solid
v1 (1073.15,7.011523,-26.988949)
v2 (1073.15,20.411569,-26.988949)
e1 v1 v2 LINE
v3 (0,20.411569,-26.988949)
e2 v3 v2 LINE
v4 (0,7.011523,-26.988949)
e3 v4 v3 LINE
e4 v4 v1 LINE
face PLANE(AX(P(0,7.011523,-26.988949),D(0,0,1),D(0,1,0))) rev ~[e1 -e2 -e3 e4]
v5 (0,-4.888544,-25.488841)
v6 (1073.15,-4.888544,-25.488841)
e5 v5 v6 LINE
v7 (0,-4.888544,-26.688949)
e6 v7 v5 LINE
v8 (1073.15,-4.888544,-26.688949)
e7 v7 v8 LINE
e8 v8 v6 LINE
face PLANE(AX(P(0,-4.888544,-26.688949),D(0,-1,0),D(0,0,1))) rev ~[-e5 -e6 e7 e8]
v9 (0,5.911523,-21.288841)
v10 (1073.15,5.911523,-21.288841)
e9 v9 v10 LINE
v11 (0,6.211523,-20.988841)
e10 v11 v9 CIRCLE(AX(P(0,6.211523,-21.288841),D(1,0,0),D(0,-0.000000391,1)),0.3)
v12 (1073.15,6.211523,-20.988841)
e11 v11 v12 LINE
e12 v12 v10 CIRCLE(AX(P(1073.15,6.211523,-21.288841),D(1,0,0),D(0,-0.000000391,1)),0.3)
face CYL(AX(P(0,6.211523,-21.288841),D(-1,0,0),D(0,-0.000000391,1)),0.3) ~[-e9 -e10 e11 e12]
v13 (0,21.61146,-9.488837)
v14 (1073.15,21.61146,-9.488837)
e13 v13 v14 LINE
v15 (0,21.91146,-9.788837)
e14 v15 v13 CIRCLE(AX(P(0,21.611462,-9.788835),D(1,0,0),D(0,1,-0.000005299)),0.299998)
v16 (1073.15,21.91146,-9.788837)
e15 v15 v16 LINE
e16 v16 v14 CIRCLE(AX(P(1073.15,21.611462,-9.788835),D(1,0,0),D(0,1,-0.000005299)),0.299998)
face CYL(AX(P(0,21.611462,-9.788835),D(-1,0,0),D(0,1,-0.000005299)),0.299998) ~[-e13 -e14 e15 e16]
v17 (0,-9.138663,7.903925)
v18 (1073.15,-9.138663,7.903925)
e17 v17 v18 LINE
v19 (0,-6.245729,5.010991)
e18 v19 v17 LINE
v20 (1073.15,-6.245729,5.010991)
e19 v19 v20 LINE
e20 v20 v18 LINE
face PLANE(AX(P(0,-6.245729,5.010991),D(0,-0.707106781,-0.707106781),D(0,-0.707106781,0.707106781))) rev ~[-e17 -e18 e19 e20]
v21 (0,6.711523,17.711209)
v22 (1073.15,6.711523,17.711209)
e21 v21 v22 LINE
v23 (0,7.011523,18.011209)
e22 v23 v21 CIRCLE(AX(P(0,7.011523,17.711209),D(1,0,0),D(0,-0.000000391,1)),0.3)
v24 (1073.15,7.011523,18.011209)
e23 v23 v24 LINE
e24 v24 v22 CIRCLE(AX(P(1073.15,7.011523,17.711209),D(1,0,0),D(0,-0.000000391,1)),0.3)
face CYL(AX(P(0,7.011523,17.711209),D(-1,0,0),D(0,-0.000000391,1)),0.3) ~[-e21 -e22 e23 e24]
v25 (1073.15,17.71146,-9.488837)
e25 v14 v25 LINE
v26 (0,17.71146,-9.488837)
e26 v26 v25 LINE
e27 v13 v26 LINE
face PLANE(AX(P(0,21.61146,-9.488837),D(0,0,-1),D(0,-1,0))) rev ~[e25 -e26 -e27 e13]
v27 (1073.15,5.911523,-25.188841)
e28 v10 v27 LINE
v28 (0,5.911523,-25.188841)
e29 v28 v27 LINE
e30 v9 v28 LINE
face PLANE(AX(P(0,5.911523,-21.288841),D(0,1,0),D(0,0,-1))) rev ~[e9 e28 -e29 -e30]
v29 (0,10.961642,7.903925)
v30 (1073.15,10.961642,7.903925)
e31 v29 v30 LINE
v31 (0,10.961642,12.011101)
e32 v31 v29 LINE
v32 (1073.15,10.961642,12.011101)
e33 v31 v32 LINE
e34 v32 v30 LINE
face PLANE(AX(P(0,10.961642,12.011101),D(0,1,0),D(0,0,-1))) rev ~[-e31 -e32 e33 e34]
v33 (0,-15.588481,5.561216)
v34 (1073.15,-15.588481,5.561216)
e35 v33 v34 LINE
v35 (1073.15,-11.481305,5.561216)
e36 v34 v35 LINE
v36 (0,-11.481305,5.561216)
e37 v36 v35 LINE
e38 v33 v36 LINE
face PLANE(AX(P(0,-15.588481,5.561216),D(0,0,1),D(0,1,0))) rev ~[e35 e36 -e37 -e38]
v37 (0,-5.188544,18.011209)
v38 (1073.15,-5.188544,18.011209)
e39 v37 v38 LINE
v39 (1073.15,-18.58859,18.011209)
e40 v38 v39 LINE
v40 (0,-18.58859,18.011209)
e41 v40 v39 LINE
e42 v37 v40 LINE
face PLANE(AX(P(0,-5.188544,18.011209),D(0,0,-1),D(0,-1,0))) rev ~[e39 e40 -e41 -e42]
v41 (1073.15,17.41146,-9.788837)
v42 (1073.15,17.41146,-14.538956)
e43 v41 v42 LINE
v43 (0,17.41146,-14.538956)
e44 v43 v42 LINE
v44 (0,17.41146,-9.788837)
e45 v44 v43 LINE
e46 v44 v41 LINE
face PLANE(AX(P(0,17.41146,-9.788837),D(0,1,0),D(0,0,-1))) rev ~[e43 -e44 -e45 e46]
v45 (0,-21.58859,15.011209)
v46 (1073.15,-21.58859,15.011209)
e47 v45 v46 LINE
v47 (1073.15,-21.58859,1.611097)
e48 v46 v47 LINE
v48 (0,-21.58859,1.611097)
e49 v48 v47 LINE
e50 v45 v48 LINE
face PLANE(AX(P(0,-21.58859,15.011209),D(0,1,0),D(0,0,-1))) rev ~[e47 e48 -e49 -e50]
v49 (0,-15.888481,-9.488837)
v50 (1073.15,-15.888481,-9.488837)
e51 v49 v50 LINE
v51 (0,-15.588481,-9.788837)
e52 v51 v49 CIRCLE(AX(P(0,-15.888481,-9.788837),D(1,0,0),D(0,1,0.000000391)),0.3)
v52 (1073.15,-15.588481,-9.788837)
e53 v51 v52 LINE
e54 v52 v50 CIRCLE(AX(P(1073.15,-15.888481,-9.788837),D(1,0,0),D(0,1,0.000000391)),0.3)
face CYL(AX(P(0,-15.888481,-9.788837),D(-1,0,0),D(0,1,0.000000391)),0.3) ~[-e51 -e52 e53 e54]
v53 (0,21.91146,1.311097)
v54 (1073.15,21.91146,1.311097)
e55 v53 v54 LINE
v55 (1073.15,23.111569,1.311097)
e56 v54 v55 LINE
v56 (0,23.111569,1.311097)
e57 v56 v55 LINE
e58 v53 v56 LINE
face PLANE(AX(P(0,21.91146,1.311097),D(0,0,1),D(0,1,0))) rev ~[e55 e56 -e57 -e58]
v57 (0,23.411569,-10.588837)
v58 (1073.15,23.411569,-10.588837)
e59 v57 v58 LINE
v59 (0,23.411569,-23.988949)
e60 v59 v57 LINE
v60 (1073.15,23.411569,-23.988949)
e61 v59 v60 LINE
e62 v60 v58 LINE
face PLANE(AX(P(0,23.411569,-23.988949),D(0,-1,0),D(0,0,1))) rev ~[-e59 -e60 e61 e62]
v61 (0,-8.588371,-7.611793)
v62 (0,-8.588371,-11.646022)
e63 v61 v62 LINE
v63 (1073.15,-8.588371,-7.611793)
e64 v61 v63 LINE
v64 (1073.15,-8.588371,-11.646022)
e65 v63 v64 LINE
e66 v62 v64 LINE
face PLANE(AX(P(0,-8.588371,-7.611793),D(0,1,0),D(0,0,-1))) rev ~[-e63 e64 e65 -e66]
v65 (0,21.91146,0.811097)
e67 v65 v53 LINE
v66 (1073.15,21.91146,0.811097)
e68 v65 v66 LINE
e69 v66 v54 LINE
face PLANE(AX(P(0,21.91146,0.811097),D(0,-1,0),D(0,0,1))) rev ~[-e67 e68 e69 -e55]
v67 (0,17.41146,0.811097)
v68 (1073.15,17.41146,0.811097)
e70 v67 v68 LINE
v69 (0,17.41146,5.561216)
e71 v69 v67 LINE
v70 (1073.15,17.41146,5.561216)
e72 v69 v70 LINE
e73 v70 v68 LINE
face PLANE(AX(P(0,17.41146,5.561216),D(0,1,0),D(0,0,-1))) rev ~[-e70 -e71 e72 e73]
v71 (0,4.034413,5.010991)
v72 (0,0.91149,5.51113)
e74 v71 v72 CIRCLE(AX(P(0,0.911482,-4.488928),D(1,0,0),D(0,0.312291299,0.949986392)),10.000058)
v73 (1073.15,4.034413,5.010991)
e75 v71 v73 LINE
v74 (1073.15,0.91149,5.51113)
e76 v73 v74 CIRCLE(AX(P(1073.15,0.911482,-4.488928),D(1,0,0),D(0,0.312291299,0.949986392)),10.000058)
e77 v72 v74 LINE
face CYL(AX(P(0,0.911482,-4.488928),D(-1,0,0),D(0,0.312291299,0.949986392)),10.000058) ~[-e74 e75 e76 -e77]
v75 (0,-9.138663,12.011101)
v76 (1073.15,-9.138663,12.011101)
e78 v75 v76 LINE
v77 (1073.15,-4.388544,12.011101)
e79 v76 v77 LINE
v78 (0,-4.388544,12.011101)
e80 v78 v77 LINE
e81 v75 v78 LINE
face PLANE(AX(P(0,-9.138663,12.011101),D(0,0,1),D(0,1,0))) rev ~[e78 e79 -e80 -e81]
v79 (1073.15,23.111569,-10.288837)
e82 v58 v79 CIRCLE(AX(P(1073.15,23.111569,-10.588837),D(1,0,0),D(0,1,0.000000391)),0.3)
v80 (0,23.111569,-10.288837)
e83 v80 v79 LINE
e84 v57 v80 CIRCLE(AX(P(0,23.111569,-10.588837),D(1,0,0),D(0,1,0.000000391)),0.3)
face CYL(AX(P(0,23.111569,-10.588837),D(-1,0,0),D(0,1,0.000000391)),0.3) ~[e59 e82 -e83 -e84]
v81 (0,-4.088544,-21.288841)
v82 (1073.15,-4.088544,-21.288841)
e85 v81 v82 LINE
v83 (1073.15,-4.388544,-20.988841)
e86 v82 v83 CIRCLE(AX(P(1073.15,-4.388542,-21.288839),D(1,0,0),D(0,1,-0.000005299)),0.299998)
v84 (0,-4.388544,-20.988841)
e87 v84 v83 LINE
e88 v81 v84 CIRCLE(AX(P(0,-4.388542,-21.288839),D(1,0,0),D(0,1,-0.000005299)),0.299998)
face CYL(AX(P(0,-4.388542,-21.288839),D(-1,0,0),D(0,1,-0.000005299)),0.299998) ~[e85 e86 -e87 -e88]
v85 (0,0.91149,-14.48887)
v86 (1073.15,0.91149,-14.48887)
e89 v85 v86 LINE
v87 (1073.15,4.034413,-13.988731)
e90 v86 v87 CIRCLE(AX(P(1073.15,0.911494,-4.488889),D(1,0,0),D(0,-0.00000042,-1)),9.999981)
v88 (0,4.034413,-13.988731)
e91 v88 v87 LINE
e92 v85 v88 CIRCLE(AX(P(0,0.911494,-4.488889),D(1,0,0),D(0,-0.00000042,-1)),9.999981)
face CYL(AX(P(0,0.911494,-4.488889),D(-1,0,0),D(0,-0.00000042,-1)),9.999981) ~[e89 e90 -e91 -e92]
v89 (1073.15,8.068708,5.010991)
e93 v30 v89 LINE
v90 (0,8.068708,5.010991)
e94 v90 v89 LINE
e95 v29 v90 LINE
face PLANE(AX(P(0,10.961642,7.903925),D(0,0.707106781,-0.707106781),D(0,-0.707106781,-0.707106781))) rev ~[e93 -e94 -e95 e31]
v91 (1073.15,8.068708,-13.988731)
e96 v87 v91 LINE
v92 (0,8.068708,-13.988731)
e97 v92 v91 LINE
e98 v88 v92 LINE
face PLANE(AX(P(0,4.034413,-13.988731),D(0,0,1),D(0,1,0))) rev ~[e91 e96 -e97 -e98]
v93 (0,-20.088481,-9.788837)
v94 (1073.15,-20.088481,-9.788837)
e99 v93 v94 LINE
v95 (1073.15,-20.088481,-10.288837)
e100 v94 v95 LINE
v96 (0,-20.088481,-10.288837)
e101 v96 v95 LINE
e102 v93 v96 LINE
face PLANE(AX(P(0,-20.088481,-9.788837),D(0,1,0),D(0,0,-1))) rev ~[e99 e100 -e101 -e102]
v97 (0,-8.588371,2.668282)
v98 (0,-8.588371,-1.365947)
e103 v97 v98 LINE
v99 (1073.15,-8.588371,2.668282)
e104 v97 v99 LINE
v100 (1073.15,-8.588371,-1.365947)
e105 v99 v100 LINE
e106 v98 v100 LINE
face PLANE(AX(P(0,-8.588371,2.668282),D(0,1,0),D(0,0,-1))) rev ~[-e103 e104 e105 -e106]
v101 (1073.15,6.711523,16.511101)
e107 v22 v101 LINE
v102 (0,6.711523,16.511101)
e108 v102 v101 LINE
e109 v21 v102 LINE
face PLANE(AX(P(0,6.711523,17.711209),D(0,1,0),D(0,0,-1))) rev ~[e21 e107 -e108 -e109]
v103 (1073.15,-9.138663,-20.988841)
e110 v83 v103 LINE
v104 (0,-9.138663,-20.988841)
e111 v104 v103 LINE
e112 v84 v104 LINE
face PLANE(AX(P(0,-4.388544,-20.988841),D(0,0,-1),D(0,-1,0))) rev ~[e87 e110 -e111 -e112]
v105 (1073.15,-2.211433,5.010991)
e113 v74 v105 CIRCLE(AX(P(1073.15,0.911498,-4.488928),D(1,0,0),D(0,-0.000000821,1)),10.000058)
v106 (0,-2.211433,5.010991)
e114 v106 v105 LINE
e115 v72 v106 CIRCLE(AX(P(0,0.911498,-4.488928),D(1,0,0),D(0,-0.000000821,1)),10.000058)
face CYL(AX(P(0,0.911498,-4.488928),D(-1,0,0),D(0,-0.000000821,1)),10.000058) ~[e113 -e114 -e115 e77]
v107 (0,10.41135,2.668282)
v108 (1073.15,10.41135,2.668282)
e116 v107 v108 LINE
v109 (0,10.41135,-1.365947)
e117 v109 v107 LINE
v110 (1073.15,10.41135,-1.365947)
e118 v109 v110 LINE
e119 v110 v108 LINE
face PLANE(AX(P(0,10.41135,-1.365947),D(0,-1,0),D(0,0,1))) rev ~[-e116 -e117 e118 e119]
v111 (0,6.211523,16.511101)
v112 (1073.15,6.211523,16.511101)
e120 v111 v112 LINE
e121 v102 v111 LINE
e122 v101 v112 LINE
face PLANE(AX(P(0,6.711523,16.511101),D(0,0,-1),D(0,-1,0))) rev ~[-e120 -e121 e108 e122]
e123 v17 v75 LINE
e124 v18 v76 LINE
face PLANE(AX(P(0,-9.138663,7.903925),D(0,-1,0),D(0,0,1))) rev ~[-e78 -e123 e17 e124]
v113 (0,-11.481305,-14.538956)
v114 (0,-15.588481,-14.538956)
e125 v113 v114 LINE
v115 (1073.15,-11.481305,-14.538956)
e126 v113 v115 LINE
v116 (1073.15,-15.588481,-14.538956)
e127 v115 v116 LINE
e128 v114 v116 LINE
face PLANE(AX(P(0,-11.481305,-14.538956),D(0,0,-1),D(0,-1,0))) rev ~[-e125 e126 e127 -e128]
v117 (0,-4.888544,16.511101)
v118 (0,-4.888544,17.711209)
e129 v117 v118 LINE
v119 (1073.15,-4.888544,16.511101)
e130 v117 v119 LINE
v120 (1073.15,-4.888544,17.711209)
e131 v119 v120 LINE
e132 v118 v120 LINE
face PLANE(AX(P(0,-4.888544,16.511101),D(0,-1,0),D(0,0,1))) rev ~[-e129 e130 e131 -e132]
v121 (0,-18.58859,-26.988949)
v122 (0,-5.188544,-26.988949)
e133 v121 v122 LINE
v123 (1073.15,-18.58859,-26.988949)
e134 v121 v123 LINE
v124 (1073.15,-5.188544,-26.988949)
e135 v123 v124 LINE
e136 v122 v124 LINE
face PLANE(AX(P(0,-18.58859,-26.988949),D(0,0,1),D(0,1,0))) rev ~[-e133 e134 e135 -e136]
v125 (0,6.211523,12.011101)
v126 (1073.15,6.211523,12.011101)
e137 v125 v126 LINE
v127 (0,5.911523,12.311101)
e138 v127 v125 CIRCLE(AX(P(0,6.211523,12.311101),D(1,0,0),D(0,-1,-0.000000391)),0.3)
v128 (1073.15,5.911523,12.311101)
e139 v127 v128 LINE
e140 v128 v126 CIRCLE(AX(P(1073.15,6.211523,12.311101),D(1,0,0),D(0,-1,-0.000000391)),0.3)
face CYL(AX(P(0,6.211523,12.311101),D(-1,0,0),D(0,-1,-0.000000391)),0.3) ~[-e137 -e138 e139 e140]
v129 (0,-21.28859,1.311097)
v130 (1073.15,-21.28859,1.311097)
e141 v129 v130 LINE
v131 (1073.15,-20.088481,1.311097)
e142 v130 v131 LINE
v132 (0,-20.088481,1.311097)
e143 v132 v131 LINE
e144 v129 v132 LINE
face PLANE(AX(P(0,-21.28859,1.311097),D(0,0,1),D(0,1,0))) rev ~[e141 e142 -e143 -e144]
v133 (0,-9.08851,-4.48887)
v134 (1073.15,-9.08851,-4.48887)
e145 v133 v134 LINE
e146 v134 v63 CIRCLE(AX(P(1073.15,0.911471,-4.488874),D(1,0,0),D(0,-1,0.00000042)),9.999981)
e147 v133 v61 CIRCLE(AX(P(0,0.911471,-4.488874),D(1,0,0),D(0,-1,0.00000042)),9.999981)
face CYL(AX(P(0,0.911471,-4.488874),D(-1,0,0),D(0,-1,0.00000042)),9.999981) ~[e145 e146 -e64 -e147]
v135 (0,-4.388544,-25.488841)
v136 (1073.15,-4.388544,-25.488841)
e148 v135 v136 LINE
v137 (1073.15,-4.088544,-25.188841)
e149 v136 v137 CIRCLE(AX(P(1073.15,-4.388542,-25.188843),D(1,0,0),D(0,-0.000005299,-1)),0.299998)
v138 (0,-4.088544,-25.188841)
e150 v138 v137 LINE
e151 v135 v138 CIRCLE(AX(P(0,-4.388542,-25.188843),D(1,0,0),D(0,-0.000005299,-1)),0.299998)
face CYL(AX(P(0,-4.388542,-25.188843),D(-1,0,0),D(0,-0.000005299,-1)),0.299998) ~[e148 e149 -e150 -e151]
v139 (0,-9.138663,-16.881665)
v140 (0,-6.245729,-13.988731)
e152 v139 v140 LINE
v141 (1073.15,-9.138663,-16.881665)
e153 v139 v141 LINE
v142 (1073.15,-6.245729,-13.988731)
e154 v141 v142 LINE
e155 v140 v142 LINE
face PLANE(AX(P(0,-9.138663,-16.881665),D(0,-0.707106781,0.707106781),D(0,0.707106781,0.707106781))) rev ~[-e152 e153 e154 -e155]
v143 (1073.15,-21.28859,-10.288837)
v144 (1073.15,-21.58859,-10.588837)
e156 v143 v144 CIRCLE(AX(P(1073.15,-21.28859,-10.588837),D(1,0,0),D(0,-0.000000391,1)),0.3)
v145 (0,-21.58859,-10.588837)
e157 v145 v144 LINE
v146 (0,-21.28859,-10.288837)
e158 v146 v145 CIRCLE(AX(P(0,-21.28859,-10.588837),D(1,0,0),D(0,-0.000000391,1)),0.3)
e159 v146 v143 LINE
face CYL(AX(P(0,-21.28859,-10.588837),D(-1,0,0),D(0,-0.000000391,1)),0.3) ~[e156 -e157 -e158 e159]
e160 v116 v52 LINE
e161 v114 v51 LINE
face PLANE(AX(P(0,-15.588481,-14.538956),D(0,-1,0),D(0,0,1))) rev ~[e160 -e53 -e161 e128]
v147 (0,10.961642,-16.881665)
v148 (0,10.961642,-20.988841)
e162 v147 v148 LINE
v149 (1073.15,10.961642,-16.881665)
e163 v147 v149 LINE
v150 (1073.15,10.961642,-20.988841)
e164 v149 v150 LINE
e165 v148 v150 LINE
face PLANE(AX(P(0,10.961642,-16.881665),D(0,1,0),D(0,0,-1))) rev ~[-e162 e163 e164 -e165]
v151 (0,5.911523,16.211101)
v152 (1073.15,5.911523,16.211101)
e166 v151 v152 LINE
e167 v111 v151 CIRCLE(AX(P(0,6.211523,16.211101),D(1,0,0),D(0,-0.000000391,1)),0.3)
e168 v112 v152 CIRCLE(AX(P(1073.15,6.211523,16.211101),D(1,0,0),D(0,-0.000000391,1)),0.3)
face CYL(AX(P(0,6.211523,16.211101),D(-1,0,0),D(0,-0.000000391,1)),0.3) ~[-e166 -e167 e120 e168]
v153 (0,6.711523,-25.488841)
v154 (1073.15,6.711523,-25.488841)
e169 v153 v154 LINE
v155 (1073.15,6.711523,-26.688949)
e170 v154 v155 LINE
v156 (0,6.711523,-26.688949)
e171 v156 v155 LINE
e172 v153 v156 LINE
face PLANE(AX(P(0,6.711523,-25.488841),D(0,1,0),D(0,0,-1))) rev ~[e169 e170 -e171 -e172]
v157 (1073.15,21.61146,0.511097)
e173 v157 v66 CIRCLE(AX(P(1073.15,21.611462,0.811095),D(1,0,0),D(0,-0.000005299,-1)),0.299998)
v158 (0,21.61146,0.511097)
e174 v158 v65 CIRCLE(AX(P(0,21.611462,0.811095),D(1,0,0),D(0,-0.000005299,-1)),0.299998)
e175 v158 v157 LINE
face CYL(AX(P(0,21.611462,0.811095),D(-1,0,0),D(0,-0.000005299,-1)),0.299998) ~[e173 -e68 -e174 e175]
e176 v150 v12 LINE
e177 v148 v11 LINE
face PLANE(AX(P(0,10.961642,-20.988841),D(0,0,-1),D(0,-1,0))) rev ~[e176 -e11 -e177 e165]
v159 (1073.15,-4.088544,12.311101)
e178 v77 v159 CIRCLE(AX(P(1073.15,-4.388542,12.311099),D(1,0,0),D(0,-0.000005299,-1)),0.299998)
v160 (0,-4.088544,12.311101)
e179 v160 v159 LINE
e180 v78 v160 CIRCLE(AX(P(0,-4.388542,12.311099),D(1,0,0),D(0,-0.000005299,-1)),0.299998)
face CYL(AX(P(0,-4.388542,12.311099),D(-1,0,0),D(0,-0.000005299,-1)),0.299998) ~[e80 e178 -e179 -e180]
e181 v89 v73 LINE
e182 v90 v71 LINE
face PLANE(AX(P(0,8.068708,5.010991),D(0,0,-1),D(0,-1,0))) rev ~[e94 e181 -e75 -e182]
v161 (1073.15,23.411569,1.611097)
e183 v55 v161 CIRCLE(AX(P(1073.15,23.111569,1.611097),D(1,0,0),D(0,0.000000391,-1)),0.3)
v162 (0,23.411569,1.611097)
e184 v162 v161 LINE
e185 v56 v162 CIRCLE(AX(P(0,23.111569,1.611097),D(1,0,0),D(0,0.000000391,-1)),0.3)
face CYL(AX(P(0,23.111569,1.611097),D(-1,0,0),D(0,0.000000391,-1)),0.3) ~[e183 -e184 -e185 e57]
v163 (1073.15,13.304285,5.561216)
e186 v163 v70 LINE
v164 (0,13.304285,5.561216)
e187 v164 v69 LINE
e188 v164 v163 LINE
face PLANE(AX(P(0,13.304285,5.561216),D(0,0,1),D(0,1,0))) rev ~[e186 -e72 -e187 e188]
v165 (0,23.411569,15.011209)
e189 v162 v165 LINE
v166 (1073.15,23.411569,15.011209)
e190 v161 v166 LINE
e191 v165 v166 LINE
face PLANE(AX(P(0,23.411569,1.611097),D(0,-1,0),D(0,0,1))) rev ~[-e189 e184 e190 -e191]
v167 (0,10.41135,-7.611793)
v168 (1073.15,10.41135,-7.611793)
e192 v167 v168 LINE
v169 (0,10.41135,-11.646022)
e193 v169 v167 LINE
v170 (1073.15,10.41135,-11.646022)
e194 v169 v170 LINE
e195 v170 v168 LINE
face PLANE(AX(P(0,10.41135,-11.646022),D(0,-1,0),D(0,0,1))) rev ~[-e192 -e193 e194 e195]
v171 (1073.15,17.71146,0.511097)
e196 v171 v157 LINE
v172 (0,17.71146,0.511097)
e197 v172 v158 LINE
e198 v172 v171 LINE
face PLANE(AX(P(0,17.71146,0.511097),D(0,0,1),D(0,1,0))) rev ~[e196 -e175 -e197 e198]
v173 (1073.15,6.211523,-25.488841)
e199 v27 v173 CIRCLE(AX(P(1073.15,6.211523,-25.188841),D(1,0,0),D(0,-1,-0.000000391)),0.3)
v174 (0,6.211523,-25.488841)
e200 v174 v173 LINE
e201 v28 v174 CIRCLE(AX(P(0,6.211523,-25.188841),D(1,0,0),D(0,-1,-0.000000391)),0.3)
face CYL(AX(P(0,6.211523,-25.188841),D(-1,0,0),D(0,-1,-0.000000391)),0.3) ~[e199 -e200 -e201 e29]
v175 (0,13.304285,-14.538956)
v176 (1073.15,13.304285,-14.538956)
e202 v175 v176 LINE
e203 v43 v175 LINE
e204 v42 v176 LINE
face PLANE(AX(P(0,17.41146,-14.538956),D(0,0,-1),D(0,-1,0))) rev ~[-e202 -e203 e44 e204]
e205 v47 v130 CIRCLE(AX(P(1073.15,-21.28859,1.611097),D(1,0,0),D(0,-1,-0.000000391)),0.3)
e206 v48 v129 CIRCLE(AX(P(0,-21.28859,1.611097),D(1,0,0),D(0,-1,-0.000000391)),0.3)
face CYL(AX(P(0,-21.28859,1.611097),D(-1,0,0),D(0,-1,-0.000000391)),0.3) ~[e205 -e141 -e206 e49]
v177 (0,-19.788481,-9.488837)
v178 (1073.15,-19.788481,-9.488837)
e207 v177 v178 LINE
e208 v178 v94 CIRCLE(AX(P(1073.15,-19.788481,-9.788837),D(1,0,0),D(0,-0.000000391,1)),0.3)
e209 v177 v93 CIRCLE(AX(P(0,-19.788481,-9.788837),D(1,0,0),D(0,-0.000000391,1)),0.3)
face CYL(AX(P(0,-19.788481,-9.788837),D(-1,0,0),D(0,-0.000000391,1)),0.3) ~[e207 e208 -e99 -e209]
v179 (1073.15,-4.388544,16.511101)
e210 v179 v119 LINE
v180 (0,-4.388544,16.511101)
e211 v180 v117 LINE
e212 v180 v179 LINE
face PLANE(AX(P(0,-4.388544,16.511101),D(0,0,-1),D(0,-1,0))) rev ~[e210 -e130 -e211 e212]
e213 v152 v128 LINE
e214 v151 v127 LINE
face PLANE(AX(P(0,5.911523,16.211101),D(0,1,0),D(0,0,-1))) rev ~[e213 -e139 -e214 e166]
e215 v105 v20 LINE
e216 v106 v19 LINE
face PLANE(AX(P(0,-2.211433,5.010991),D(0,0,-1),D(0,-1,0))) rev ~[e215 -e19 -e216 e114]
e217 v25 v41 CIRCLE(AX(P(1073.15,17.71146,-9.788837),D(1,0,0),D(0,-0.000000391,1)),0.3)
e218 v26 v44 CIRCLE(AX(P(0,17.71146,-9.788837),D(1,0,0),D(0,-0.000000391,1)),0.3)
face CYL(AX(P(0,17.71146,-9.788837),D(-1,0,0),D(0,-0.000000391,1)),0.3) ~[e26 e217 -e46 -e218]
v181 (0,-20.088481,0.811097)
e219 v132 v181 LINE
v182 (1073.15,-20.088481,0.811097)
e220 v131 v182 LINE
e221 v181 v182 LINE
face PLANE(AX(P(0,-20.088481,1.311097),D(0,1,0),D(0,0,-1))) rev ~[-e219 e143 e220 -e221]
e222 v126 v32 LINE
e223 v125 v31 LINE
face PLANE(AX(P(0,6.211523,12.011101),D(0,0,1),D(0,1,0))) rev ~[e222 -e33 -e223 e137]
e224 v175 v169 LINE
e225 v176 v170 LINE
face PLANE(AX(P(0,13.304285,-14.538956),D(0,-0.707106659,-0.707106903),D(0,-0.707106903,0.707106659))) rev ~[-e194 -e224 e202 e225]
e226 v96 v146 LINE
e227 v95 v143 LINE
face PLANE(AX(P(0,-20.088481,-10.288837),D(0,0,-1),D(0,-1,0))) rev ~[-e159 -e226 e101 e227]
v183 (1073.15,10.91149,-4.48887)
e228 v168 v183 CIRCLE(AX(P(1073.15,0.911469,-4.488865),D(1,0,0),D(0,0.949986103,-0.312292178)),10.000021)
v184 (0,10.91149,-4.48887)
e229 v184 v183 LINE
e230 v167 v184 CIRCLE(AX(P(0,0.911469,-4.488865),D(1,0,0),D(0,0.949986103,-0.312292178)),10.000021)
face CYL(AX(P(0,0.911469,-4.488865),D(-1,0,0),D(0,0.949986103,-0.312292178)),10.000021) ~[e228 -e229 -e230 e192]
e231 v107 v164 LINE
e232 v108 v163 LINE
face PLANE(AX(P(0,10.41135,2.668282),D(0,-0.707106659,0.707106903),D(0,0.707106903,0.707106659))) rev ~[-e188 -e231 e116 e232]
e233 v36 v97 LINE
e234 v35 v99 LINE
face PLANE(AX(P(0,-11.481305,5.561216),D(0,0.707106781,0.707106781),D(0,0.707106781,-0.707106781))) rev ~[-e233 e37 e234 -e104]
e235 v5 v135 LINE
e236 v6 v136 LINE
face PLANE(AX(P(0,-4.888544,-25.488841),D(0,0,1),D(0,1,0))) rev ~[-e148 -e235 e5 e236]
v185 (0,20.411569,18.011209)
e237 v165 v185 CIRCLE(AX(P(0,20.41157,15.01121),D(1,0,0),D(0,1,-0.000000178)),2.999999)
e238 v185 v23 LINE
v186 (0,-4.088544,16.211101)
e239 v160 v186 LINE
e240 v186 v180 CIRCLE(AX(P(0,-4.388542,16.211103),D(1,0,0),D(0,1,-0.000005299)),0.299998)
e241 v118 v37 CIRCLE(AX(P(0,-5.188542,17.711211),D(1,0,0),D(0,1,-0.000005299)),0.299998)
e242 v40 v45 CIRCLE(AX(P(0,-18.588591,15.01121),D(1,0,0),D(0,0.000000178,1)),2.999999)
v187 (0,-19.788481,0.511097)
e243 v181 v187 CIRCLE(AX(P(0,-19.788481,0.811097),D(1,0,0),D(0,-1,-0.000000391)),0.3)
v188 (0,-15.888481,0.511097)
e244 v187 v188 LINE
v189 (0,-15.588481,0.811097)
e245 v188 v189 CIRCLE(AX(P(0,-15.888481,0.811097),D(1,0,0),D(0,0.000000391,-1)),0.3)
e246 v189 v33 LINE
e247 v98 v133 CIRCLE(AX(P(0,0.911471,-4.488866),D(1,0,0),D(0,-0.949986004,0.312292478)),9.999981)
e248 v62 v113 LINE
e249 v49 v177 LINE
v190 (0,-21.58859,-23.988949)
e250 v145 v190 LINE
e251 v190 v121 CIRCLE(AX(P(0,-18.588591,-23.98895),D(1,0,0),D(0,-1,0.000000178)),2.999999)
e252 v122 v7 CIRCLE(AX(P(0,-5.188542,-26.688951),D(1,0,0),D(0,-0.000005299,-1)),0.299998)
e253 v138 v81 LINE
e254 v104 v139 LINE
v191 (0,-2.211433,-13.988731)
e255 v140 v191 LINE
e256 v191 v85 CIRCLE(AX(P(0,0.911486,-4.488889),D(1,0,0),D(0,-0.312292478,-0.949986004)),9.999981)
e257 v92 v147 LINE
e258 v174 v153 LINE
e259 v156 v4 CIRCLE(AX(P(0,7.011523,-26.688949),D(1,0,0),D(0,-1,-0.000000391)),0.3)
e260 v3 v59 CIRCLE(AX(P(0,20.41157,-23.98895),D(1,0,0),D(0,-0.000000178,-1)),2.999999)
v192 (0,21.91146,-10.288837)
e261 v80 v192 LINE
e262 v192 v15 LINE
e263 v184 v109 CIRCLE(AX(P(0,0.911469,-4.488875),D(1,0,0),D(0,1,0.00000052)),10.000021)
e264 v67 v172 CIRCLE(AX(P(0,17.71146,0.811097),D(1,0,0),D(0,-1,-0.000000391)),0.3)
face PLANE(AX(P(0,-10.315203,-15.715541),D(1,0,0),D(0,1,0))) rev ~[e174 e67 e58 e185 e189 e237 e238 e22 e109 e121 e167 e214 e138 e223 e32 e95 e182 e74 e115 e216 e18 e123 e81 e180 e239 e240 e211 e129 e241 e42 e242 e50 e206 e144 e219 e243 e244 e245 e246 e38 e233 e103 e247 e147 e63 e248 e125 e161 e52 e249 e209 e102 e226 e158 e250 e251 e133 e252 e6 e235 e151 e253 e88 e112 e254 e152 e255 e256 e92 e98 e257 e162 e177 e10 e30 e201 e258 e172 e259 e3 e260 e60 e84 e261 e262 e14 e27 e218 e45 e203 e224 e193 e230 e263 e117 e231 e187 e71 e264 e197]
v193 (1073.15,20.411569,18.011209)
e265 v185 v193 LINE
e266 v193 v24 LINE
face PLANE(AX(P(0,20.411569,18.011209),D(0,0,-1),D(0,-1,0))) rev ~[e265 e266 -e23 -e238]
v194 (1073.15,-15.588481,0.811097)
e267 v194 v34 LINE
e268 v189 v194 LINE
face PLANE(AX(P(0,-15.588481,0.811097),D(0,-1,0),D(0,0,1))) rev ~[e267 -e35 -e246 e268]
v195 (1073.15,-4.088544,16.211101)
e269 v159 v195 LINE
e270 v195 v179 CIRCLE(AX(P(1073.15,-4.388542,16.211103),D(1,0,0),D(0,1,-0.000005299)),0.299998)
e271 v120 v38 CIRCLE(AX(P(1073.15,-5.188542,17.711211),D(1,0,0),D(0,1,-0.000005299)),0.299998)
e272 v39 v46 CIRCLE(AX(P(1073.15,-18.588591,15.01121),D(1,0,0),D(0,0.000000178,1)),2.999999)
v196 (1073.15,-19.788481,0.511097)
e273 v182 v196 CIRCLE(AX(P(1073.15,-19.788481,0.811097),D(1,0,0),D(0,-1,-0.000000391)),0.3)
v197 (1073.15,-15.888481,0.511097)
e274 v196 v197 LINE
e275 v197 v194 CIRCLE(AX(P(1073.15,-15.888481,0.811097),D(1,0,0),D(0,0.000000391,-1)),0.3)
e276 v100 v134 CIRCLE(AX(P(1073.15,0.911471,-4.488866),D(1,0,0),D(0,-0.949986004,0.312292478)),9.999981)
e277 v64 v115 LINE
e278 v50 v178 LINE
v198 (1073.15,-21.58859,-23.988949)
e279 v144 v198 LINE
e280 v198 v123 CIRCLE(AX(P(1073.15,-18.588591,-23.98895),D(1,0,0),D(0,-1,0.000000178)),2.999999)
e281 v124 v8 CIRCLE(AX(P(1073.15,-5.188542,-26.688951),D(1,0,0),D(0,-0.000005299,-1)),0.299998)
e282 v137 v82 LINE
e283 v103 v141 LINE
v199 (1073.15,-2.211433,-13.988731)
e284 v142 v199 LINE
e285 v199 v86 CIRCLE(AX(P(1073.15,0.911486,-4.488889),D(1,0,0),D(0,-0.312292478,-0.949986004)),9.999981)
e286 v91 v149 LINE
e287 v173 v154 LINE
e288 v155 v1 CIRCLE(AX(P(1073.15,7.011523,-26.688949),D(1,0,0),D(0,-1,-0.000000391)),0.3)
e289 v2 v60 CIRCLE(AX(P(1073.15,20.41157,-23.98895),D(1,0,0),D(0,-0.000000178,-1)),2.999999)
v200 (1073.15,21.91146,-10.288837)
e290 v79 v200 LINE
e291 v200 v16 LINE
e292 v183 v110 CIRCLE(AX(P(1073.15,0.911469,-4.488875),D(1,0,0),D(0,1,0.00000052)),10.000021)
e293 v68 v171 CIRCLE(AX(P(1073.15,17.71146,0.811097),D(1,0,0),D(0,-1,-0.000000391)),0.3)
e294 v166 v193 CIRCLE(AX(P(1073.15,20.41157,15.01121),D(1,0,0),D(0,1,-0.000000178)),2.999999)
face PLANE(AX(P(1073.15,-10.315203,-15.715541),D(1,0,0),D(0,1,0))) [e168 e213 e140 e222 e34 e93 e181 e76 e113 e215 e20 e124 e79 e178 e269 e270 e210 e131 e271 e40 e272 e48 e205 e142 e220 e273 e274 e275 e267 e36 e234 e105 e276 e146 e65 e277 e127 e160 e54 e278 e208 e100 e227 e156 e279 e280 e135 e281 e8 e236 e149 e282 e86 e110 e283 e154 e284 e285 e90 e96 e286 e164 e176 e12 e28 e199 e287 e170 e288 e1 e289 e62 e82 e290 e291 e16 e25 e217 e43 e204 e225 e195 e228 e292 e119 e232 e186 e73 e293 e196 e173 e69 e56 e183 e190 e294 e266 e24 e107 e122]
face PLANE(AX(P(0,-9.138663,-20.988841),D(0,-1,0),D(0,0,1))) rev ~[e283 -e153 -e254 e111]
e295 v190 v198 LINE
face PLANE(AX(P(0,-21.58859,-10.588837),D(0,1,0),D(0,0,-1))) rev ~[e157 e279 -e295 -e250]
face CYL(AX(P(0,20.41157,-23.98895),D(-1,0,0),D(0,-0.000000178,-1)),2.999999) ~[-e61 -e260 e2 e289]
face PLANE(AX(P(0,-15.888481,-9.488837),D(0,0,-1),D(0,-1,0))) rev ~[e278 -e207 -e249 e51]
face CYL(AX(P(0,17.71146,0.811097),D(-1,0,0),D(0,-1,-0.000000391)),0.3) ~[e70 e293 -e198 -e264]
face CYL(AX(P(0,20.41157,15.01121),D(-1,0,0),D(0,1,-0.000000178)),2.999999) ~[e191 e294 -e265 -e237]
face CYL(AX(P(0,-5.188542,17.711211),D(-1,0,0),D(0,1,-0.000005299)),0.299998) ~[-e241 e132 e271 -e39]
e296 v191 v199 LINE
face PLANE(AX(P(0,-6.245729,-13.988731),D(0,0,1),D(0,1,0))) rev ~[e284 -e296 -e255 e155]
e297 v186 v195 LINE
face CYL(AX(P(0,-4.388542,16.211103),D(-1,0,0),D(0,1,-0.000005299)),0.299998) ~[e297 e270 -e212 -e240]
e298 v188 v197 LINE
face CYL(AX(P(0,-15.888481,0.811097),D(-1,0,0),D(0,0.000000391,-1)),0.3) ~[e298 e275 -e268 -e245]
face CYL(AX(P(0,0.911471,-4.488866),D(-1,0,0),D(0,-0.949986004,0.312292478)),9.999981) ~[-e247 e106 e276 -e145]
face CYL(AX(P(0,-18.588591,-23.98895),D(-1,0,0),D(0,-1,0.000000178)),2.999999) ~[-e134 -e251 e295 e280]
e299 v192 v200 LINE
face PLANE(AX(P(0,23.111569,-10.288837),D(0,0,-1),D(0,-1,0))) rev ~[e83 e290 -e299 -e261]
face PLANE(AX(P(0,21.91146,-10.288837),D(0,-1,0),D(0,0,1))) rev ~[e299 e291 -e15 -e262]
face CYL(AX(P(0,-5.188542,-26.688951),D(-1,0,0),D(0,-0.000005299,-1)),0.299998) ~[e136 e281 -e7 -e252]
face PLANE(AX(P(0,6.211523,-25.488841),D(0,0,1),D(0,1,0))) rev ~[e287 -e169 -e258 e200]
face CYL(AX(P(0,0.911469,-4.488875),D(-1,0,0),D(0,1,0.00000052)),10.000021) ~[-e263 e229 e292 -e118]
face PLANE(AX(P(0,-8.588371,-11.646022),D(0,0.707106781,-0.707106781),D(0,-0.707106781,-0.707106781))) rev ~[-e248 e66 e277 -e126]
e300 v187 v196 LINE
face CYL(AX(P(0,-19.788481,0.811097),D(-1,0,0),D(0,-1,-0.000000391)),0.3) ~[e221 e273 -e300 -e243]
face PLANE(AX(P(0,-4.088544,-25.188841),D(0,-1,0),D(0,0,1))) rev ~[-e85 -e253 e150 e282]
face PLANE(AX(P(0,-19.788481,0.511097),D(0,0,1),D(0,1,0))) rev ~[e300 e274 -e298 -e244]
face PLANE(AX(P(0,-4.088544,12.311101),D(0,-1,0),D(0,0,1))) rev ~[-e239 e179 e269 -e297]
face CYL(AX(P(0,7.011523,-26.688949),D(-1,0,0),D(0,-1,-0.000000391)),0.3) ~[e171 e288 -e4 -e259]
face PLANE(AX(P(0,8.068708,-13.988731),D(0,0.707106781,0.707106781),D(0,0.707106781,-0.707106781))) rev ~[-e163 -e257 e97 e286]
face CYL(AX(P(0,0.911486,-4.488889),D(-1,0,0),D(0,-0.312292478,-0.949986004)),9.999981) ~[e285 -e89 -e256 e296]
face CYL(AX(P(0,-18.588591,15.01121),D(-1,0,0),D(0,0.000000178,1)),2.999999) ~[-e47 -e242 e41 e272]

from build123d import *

# Parameters (mm, degrees)
F1_DEPTH = 1073.15


with BuildPart() as f1:
    # F0 (on Right) → F1 (new body)
    with BuildSketch(Plane.YZ):
        with BuildLine():
            Line((-20.088481, -9.788837), (-20.088481, -10.288837))
            Line((-20.088481, -10.288837), (-21.28859, -10.288837))
            ThreePointArc((-21.28859, -10.288837), (-21.500722, -10.376705), (-21.58859, -10.588837))
            Line((-21.58859, -10.588837), (-21.58859, -23.988949))
            ThreePointArc((-21.58859, -23.988949), (-20.70991, -26.11027), (-18.58859, -26.988949))
            Line((-18.58859, -26.988949), (-5.188544, -26.988949))
            ThreePointArc((-5.188544, -26.988949), (-4.976411, -26.901081), (-4.888544, -26.688949))
            Line((-4.888544, -26.688949), (-4.888544, -25.488841))
            Line((-4.888544, -25.488841), (-4.388544, -25.488841))
            ThreePointArc((-4.388544, -25.488841), (-4.176411, -25.400973), (-4.088544, -25.188841))
            Line((-4.088544, -25.188841), (-4.088544, -21.288841))
            ThreePointArc((-4.088544, -21.288841), (-4.176411, -21.076709), (-4.388544, -20.988841))
            Line((-4.388544, -20.988841), (-9.138663, -20.988841))
            Line((-9.138663, -20.988841), (-9.138663, -16.881665))
            Line((-9.138663, -16.881665), (-6.245729, -13.988731))
            Line((-6.245729, -13.988731), (-2.211433, -13.988731))
            ThreePointArc((-2.211433, -13.988731), (-0.669869, -14.363044), (0.91149, -14.48887))
            Line((0.91149, -14.48887), (0.91149, -4.48887))
            Line((0.91149, -4.48887), (-9.08851, -4.48887))
            ThreePointArc((-9.08851, -4.48887), (-8.962684, -6.070229), (-8.588371, -7.611793))
            Line((-8.588371, -7.611793), (-8.588371, -11.646022))
            Line((-8.588371, -11.646022), (-11.481305, -14.538956))
            Line((-11.481305, -14.538956), (-15.588481, -14.538956))
            Line((-15.588481, -14.538956), (-15.588481, -9.788837))
            ThreePointArc((-15.588481, -9.788837), (-15.676349, -9.576705), (-15.888481, -9.488837))
            Line((-15.888481, -9.488837), (-19.788481, -9.488837))
            ThreePointArc((-19.788481, -9.488837), (-20.000613, -9.576705), (-20.088481, -9.788837))
        make_face()
        with BuildLine():
            ThreePointArc((-8.588371, -1.365947), (-8.962684, -2.907511), (-9.08851, -4.48887))
            Line((-9.08851, -4.48887), (0.91149, -4.48887))
            Line((0.91149, -4.48887), (0.91149, 5.51113))
            ThreePointArc((0.91149, 5.51113), (-0.669869, 5.385303), (-2.211433, 5.010991))
            Line((-2.211433, 5.010991), (-6.245729, 5.010991))
            Line((-6.245729, 5.010991), (-9.138663, 7.903925))
            Line((-9.138663, 7.903925), (-9.138663, 12.011101))
            Line((-9.138663, 12.011101), (-4.388544, 12.011101))
            ThreePointArc((-4.388544, 12.011101), (-4.176411, 12.098969), (-4.088544, 12.311101))
            Line((-4.088544, 12.311101), (-4.088544, 16.211101))
            ThreePointArc((-4.088544, 16.211101), (-4.176411, 16.423233), (-4.388544, 16.511101))
            Line((-4.388544, 16.511101), (-4.888544, 16.511101))
            Line((-4.888544, 16.511101), (-4.888544, 17.711209))
            ThreePointArc((-4.888544, 17.711209), (-4.976411, 17.923341), (-5.188544, 18.011209))
            Line((-5.188544, 18.011209), (-18.58859, 18.011209))
            ThreePointArc((-18.58859, 18.011209), (-20.70991, 17.13253), (-21.58859, 15.011209))
            Line((-21.58859, 15.011209), (-21.58859, 1.611097))
            ThreePointArc((-21.58859, 1.611097), (-21.500722, 1.398965), (-21.28859, 1.311097))
            Line((-21.28859, 1.311097), (-20.088481, 1.311097))
            Line((-20.088481, 1.311097), (-20.088481, 0.811097))
            ThreePointArc((-20.088481, 0.811097), (-20.000613, 0.598965), (-19.788481, 0.511097))
            Line((-19.788481, 0.511097), (-15.888481, 0.511097))
            ThreePointArc((-15.888481, 0.511097), (-15.676349, 0.598965), (-15.588481, 0.811097))
            Line((-15.588481, 0.811097), (-15.588481, 5.561216))
            Line((-15.588481, 5.561216), (-11.481305, 5.561216))
            Line((-11.481305, 5.561216), (-8.588371, 2.668282))
            Line((-8.588371, 2.668282), (-8.588371, -1.365947))
        make_face()
        with BuildLine():
            Line((0.91149, 5.51113), (0.91149, -4.48887))
            Line((0.91149, -4.48887), (10.91149, -4.48887))
            ThreePointArc((10.91149, -4.48887), (10.785663, -2.907511), (10.41135, -1.365947))
            Line((10.41135, -1.365947), (10.41135, 2.668282))
            Line((10.41135, 2.668282), (13.304285, 5.561216))
            Line((13.304285, 5.561216), (14.016842, 5.561216))
            Line((14.016842, 5.561216), (17.41146, 5.561216))
            Line((17.41146, 5.561216), (17.41146, 0.811097))
            ThreePointArc((17.41146, 0.811097), (17.499328, 0.598965), (17.71146, 0.511097))
            Line((17.71146, 0.511097), (21.61146, 0.511097))
            ThreePointArc((21.61146, 0.511097), (21.823593, 0.598965), (21.91146, 0.811097))
            Line((21.91146, 0.811097), (21.91146, 1.311097))
            Line((21.91146, 1.311097), (23.111569, 1.311097))
            ThreePointArc((23.111569, 1.311097), (23.323701, 1.398965), (23.411569, 1.611097))
            Line((23.411569, 1.611097), (23.411569, 15.011209))
            ThreePointArc((23.411569, 15.011209), (22.532889, 17.13253), (20.411569, 18.011209))
            Line((20.411569, 18.011209), (7.011523, 18.011209))
            ThreePointArc((7.011523, 18.011209), (6.799391, 17.923341), (6.711523, 17.711209))
            Line((6.711523, 17.711209), (6.711523, 16.511101))
            Line((6.711523, 16.511101), (6.211523, 16.511101))
            ThreePointArc((6.211523, 16.511101), (5.999391, 16.423233), (5.911523, 16.211101))
            Line((5.911523, 16.211101), (5.911523, 12.311101))
            ThreePointArc((5.911523, 12.311101), (5.999391, 12.098969), (6.211523, 12.011101))
            Line((6.211523, 12.011101), (10.961642, 12.011101))
            Line((10.961642, 12.011101), (10.961642, 7.903925))
            Line((10.961642, 7.903925), (8.068708, 5.010991))
            Line((8.068708, 5.010991), (4.034413, 5.010991))
            ThreePointArc((4.034413, 5.010991), (2.492849, 5.385303), (0.91149, 5.51113))
        make_face()
        with BuildLine():
            Line((10.91149, -4.48887), (0.91149, -4.48887))
            Line((0.91149, -4.48887), (0.91149, -14.48887))
            ThreePointArc((0.91149, -14.48887), (2.492849, -14.363044), (4.034413, -13.988731))
            Line((4.034413, -13.988731), (8.068708, -13.988731))
            Line((8.068708, -13.988731), (10.961642, -16.881665))
            Line((10.961642, -16.881665), (10.961642, -20.988841))
            Line((10.961642, -20.988841), (6.211523, -20.988841))
            ThreePointArc((6.211523, -20.988841), (5.999391, -21.076709), (5.911523, -21.288841))
            Line((5.911523, -21.288841), (5.911523, -25.188841))
            ThreePointArc((5.911523, -25.188841), (5.999391, -25.400973), (6.211523, -25.488841))
            Line((6.211523, -25.488841), (6.711523, -25.488841))
            Line((6.711523, -25.488841), (6.711523, -26.688949))
            ThreePointArc((6.711523, -26.688949), (6.799391, -26.901081), (7.011523, -26.988949))
            Line((7.011523, -26.988949), (20.411569, -26.988949))
            ThreePointArc((20.411569, -26.988949), (22.532889, -26.11027), (23.411569, -23.988949))
            Line((23.411569, -23.988949), (23.411569, -10.588837))
            ThreePointArc((23.411569, -10.588837), (23.323701, -10.376705), (23.111569, -10.288837))
            Line((23.111569, -10.288837), (21.91146, -10.288837))
            Line((21.91146, -10.288837), (21.91146, -9.788837))
            ThreePointArc((21.91146, -9.788837), (21.823593, -9.576705), (21.61146, -9.488837))
            Line((21.61146, -9.488837), (17.71146, -9.488837))
            ThreePointArc((17.71146, -9.488837), (17.499328, -9.576705), (17.41146, -9.788837))
            Line((17.41146, -9.788837), (17.41146, -14.538956))
            Line((17.41146, -14.538956), (13.304285, -14.538956))
            Line((13.304285, -14.538956), (10.41135, -11.646022))
            Line((10.41135, -11.646022), (10.41135, -7.611793))
            ThreePointArc((10.41135, -7.611793), (10.785663, -6.070229), (10.91149, -4.48887))
        make_face()
    extrude(amount=F1_DEPTH)


solid = f1.part
